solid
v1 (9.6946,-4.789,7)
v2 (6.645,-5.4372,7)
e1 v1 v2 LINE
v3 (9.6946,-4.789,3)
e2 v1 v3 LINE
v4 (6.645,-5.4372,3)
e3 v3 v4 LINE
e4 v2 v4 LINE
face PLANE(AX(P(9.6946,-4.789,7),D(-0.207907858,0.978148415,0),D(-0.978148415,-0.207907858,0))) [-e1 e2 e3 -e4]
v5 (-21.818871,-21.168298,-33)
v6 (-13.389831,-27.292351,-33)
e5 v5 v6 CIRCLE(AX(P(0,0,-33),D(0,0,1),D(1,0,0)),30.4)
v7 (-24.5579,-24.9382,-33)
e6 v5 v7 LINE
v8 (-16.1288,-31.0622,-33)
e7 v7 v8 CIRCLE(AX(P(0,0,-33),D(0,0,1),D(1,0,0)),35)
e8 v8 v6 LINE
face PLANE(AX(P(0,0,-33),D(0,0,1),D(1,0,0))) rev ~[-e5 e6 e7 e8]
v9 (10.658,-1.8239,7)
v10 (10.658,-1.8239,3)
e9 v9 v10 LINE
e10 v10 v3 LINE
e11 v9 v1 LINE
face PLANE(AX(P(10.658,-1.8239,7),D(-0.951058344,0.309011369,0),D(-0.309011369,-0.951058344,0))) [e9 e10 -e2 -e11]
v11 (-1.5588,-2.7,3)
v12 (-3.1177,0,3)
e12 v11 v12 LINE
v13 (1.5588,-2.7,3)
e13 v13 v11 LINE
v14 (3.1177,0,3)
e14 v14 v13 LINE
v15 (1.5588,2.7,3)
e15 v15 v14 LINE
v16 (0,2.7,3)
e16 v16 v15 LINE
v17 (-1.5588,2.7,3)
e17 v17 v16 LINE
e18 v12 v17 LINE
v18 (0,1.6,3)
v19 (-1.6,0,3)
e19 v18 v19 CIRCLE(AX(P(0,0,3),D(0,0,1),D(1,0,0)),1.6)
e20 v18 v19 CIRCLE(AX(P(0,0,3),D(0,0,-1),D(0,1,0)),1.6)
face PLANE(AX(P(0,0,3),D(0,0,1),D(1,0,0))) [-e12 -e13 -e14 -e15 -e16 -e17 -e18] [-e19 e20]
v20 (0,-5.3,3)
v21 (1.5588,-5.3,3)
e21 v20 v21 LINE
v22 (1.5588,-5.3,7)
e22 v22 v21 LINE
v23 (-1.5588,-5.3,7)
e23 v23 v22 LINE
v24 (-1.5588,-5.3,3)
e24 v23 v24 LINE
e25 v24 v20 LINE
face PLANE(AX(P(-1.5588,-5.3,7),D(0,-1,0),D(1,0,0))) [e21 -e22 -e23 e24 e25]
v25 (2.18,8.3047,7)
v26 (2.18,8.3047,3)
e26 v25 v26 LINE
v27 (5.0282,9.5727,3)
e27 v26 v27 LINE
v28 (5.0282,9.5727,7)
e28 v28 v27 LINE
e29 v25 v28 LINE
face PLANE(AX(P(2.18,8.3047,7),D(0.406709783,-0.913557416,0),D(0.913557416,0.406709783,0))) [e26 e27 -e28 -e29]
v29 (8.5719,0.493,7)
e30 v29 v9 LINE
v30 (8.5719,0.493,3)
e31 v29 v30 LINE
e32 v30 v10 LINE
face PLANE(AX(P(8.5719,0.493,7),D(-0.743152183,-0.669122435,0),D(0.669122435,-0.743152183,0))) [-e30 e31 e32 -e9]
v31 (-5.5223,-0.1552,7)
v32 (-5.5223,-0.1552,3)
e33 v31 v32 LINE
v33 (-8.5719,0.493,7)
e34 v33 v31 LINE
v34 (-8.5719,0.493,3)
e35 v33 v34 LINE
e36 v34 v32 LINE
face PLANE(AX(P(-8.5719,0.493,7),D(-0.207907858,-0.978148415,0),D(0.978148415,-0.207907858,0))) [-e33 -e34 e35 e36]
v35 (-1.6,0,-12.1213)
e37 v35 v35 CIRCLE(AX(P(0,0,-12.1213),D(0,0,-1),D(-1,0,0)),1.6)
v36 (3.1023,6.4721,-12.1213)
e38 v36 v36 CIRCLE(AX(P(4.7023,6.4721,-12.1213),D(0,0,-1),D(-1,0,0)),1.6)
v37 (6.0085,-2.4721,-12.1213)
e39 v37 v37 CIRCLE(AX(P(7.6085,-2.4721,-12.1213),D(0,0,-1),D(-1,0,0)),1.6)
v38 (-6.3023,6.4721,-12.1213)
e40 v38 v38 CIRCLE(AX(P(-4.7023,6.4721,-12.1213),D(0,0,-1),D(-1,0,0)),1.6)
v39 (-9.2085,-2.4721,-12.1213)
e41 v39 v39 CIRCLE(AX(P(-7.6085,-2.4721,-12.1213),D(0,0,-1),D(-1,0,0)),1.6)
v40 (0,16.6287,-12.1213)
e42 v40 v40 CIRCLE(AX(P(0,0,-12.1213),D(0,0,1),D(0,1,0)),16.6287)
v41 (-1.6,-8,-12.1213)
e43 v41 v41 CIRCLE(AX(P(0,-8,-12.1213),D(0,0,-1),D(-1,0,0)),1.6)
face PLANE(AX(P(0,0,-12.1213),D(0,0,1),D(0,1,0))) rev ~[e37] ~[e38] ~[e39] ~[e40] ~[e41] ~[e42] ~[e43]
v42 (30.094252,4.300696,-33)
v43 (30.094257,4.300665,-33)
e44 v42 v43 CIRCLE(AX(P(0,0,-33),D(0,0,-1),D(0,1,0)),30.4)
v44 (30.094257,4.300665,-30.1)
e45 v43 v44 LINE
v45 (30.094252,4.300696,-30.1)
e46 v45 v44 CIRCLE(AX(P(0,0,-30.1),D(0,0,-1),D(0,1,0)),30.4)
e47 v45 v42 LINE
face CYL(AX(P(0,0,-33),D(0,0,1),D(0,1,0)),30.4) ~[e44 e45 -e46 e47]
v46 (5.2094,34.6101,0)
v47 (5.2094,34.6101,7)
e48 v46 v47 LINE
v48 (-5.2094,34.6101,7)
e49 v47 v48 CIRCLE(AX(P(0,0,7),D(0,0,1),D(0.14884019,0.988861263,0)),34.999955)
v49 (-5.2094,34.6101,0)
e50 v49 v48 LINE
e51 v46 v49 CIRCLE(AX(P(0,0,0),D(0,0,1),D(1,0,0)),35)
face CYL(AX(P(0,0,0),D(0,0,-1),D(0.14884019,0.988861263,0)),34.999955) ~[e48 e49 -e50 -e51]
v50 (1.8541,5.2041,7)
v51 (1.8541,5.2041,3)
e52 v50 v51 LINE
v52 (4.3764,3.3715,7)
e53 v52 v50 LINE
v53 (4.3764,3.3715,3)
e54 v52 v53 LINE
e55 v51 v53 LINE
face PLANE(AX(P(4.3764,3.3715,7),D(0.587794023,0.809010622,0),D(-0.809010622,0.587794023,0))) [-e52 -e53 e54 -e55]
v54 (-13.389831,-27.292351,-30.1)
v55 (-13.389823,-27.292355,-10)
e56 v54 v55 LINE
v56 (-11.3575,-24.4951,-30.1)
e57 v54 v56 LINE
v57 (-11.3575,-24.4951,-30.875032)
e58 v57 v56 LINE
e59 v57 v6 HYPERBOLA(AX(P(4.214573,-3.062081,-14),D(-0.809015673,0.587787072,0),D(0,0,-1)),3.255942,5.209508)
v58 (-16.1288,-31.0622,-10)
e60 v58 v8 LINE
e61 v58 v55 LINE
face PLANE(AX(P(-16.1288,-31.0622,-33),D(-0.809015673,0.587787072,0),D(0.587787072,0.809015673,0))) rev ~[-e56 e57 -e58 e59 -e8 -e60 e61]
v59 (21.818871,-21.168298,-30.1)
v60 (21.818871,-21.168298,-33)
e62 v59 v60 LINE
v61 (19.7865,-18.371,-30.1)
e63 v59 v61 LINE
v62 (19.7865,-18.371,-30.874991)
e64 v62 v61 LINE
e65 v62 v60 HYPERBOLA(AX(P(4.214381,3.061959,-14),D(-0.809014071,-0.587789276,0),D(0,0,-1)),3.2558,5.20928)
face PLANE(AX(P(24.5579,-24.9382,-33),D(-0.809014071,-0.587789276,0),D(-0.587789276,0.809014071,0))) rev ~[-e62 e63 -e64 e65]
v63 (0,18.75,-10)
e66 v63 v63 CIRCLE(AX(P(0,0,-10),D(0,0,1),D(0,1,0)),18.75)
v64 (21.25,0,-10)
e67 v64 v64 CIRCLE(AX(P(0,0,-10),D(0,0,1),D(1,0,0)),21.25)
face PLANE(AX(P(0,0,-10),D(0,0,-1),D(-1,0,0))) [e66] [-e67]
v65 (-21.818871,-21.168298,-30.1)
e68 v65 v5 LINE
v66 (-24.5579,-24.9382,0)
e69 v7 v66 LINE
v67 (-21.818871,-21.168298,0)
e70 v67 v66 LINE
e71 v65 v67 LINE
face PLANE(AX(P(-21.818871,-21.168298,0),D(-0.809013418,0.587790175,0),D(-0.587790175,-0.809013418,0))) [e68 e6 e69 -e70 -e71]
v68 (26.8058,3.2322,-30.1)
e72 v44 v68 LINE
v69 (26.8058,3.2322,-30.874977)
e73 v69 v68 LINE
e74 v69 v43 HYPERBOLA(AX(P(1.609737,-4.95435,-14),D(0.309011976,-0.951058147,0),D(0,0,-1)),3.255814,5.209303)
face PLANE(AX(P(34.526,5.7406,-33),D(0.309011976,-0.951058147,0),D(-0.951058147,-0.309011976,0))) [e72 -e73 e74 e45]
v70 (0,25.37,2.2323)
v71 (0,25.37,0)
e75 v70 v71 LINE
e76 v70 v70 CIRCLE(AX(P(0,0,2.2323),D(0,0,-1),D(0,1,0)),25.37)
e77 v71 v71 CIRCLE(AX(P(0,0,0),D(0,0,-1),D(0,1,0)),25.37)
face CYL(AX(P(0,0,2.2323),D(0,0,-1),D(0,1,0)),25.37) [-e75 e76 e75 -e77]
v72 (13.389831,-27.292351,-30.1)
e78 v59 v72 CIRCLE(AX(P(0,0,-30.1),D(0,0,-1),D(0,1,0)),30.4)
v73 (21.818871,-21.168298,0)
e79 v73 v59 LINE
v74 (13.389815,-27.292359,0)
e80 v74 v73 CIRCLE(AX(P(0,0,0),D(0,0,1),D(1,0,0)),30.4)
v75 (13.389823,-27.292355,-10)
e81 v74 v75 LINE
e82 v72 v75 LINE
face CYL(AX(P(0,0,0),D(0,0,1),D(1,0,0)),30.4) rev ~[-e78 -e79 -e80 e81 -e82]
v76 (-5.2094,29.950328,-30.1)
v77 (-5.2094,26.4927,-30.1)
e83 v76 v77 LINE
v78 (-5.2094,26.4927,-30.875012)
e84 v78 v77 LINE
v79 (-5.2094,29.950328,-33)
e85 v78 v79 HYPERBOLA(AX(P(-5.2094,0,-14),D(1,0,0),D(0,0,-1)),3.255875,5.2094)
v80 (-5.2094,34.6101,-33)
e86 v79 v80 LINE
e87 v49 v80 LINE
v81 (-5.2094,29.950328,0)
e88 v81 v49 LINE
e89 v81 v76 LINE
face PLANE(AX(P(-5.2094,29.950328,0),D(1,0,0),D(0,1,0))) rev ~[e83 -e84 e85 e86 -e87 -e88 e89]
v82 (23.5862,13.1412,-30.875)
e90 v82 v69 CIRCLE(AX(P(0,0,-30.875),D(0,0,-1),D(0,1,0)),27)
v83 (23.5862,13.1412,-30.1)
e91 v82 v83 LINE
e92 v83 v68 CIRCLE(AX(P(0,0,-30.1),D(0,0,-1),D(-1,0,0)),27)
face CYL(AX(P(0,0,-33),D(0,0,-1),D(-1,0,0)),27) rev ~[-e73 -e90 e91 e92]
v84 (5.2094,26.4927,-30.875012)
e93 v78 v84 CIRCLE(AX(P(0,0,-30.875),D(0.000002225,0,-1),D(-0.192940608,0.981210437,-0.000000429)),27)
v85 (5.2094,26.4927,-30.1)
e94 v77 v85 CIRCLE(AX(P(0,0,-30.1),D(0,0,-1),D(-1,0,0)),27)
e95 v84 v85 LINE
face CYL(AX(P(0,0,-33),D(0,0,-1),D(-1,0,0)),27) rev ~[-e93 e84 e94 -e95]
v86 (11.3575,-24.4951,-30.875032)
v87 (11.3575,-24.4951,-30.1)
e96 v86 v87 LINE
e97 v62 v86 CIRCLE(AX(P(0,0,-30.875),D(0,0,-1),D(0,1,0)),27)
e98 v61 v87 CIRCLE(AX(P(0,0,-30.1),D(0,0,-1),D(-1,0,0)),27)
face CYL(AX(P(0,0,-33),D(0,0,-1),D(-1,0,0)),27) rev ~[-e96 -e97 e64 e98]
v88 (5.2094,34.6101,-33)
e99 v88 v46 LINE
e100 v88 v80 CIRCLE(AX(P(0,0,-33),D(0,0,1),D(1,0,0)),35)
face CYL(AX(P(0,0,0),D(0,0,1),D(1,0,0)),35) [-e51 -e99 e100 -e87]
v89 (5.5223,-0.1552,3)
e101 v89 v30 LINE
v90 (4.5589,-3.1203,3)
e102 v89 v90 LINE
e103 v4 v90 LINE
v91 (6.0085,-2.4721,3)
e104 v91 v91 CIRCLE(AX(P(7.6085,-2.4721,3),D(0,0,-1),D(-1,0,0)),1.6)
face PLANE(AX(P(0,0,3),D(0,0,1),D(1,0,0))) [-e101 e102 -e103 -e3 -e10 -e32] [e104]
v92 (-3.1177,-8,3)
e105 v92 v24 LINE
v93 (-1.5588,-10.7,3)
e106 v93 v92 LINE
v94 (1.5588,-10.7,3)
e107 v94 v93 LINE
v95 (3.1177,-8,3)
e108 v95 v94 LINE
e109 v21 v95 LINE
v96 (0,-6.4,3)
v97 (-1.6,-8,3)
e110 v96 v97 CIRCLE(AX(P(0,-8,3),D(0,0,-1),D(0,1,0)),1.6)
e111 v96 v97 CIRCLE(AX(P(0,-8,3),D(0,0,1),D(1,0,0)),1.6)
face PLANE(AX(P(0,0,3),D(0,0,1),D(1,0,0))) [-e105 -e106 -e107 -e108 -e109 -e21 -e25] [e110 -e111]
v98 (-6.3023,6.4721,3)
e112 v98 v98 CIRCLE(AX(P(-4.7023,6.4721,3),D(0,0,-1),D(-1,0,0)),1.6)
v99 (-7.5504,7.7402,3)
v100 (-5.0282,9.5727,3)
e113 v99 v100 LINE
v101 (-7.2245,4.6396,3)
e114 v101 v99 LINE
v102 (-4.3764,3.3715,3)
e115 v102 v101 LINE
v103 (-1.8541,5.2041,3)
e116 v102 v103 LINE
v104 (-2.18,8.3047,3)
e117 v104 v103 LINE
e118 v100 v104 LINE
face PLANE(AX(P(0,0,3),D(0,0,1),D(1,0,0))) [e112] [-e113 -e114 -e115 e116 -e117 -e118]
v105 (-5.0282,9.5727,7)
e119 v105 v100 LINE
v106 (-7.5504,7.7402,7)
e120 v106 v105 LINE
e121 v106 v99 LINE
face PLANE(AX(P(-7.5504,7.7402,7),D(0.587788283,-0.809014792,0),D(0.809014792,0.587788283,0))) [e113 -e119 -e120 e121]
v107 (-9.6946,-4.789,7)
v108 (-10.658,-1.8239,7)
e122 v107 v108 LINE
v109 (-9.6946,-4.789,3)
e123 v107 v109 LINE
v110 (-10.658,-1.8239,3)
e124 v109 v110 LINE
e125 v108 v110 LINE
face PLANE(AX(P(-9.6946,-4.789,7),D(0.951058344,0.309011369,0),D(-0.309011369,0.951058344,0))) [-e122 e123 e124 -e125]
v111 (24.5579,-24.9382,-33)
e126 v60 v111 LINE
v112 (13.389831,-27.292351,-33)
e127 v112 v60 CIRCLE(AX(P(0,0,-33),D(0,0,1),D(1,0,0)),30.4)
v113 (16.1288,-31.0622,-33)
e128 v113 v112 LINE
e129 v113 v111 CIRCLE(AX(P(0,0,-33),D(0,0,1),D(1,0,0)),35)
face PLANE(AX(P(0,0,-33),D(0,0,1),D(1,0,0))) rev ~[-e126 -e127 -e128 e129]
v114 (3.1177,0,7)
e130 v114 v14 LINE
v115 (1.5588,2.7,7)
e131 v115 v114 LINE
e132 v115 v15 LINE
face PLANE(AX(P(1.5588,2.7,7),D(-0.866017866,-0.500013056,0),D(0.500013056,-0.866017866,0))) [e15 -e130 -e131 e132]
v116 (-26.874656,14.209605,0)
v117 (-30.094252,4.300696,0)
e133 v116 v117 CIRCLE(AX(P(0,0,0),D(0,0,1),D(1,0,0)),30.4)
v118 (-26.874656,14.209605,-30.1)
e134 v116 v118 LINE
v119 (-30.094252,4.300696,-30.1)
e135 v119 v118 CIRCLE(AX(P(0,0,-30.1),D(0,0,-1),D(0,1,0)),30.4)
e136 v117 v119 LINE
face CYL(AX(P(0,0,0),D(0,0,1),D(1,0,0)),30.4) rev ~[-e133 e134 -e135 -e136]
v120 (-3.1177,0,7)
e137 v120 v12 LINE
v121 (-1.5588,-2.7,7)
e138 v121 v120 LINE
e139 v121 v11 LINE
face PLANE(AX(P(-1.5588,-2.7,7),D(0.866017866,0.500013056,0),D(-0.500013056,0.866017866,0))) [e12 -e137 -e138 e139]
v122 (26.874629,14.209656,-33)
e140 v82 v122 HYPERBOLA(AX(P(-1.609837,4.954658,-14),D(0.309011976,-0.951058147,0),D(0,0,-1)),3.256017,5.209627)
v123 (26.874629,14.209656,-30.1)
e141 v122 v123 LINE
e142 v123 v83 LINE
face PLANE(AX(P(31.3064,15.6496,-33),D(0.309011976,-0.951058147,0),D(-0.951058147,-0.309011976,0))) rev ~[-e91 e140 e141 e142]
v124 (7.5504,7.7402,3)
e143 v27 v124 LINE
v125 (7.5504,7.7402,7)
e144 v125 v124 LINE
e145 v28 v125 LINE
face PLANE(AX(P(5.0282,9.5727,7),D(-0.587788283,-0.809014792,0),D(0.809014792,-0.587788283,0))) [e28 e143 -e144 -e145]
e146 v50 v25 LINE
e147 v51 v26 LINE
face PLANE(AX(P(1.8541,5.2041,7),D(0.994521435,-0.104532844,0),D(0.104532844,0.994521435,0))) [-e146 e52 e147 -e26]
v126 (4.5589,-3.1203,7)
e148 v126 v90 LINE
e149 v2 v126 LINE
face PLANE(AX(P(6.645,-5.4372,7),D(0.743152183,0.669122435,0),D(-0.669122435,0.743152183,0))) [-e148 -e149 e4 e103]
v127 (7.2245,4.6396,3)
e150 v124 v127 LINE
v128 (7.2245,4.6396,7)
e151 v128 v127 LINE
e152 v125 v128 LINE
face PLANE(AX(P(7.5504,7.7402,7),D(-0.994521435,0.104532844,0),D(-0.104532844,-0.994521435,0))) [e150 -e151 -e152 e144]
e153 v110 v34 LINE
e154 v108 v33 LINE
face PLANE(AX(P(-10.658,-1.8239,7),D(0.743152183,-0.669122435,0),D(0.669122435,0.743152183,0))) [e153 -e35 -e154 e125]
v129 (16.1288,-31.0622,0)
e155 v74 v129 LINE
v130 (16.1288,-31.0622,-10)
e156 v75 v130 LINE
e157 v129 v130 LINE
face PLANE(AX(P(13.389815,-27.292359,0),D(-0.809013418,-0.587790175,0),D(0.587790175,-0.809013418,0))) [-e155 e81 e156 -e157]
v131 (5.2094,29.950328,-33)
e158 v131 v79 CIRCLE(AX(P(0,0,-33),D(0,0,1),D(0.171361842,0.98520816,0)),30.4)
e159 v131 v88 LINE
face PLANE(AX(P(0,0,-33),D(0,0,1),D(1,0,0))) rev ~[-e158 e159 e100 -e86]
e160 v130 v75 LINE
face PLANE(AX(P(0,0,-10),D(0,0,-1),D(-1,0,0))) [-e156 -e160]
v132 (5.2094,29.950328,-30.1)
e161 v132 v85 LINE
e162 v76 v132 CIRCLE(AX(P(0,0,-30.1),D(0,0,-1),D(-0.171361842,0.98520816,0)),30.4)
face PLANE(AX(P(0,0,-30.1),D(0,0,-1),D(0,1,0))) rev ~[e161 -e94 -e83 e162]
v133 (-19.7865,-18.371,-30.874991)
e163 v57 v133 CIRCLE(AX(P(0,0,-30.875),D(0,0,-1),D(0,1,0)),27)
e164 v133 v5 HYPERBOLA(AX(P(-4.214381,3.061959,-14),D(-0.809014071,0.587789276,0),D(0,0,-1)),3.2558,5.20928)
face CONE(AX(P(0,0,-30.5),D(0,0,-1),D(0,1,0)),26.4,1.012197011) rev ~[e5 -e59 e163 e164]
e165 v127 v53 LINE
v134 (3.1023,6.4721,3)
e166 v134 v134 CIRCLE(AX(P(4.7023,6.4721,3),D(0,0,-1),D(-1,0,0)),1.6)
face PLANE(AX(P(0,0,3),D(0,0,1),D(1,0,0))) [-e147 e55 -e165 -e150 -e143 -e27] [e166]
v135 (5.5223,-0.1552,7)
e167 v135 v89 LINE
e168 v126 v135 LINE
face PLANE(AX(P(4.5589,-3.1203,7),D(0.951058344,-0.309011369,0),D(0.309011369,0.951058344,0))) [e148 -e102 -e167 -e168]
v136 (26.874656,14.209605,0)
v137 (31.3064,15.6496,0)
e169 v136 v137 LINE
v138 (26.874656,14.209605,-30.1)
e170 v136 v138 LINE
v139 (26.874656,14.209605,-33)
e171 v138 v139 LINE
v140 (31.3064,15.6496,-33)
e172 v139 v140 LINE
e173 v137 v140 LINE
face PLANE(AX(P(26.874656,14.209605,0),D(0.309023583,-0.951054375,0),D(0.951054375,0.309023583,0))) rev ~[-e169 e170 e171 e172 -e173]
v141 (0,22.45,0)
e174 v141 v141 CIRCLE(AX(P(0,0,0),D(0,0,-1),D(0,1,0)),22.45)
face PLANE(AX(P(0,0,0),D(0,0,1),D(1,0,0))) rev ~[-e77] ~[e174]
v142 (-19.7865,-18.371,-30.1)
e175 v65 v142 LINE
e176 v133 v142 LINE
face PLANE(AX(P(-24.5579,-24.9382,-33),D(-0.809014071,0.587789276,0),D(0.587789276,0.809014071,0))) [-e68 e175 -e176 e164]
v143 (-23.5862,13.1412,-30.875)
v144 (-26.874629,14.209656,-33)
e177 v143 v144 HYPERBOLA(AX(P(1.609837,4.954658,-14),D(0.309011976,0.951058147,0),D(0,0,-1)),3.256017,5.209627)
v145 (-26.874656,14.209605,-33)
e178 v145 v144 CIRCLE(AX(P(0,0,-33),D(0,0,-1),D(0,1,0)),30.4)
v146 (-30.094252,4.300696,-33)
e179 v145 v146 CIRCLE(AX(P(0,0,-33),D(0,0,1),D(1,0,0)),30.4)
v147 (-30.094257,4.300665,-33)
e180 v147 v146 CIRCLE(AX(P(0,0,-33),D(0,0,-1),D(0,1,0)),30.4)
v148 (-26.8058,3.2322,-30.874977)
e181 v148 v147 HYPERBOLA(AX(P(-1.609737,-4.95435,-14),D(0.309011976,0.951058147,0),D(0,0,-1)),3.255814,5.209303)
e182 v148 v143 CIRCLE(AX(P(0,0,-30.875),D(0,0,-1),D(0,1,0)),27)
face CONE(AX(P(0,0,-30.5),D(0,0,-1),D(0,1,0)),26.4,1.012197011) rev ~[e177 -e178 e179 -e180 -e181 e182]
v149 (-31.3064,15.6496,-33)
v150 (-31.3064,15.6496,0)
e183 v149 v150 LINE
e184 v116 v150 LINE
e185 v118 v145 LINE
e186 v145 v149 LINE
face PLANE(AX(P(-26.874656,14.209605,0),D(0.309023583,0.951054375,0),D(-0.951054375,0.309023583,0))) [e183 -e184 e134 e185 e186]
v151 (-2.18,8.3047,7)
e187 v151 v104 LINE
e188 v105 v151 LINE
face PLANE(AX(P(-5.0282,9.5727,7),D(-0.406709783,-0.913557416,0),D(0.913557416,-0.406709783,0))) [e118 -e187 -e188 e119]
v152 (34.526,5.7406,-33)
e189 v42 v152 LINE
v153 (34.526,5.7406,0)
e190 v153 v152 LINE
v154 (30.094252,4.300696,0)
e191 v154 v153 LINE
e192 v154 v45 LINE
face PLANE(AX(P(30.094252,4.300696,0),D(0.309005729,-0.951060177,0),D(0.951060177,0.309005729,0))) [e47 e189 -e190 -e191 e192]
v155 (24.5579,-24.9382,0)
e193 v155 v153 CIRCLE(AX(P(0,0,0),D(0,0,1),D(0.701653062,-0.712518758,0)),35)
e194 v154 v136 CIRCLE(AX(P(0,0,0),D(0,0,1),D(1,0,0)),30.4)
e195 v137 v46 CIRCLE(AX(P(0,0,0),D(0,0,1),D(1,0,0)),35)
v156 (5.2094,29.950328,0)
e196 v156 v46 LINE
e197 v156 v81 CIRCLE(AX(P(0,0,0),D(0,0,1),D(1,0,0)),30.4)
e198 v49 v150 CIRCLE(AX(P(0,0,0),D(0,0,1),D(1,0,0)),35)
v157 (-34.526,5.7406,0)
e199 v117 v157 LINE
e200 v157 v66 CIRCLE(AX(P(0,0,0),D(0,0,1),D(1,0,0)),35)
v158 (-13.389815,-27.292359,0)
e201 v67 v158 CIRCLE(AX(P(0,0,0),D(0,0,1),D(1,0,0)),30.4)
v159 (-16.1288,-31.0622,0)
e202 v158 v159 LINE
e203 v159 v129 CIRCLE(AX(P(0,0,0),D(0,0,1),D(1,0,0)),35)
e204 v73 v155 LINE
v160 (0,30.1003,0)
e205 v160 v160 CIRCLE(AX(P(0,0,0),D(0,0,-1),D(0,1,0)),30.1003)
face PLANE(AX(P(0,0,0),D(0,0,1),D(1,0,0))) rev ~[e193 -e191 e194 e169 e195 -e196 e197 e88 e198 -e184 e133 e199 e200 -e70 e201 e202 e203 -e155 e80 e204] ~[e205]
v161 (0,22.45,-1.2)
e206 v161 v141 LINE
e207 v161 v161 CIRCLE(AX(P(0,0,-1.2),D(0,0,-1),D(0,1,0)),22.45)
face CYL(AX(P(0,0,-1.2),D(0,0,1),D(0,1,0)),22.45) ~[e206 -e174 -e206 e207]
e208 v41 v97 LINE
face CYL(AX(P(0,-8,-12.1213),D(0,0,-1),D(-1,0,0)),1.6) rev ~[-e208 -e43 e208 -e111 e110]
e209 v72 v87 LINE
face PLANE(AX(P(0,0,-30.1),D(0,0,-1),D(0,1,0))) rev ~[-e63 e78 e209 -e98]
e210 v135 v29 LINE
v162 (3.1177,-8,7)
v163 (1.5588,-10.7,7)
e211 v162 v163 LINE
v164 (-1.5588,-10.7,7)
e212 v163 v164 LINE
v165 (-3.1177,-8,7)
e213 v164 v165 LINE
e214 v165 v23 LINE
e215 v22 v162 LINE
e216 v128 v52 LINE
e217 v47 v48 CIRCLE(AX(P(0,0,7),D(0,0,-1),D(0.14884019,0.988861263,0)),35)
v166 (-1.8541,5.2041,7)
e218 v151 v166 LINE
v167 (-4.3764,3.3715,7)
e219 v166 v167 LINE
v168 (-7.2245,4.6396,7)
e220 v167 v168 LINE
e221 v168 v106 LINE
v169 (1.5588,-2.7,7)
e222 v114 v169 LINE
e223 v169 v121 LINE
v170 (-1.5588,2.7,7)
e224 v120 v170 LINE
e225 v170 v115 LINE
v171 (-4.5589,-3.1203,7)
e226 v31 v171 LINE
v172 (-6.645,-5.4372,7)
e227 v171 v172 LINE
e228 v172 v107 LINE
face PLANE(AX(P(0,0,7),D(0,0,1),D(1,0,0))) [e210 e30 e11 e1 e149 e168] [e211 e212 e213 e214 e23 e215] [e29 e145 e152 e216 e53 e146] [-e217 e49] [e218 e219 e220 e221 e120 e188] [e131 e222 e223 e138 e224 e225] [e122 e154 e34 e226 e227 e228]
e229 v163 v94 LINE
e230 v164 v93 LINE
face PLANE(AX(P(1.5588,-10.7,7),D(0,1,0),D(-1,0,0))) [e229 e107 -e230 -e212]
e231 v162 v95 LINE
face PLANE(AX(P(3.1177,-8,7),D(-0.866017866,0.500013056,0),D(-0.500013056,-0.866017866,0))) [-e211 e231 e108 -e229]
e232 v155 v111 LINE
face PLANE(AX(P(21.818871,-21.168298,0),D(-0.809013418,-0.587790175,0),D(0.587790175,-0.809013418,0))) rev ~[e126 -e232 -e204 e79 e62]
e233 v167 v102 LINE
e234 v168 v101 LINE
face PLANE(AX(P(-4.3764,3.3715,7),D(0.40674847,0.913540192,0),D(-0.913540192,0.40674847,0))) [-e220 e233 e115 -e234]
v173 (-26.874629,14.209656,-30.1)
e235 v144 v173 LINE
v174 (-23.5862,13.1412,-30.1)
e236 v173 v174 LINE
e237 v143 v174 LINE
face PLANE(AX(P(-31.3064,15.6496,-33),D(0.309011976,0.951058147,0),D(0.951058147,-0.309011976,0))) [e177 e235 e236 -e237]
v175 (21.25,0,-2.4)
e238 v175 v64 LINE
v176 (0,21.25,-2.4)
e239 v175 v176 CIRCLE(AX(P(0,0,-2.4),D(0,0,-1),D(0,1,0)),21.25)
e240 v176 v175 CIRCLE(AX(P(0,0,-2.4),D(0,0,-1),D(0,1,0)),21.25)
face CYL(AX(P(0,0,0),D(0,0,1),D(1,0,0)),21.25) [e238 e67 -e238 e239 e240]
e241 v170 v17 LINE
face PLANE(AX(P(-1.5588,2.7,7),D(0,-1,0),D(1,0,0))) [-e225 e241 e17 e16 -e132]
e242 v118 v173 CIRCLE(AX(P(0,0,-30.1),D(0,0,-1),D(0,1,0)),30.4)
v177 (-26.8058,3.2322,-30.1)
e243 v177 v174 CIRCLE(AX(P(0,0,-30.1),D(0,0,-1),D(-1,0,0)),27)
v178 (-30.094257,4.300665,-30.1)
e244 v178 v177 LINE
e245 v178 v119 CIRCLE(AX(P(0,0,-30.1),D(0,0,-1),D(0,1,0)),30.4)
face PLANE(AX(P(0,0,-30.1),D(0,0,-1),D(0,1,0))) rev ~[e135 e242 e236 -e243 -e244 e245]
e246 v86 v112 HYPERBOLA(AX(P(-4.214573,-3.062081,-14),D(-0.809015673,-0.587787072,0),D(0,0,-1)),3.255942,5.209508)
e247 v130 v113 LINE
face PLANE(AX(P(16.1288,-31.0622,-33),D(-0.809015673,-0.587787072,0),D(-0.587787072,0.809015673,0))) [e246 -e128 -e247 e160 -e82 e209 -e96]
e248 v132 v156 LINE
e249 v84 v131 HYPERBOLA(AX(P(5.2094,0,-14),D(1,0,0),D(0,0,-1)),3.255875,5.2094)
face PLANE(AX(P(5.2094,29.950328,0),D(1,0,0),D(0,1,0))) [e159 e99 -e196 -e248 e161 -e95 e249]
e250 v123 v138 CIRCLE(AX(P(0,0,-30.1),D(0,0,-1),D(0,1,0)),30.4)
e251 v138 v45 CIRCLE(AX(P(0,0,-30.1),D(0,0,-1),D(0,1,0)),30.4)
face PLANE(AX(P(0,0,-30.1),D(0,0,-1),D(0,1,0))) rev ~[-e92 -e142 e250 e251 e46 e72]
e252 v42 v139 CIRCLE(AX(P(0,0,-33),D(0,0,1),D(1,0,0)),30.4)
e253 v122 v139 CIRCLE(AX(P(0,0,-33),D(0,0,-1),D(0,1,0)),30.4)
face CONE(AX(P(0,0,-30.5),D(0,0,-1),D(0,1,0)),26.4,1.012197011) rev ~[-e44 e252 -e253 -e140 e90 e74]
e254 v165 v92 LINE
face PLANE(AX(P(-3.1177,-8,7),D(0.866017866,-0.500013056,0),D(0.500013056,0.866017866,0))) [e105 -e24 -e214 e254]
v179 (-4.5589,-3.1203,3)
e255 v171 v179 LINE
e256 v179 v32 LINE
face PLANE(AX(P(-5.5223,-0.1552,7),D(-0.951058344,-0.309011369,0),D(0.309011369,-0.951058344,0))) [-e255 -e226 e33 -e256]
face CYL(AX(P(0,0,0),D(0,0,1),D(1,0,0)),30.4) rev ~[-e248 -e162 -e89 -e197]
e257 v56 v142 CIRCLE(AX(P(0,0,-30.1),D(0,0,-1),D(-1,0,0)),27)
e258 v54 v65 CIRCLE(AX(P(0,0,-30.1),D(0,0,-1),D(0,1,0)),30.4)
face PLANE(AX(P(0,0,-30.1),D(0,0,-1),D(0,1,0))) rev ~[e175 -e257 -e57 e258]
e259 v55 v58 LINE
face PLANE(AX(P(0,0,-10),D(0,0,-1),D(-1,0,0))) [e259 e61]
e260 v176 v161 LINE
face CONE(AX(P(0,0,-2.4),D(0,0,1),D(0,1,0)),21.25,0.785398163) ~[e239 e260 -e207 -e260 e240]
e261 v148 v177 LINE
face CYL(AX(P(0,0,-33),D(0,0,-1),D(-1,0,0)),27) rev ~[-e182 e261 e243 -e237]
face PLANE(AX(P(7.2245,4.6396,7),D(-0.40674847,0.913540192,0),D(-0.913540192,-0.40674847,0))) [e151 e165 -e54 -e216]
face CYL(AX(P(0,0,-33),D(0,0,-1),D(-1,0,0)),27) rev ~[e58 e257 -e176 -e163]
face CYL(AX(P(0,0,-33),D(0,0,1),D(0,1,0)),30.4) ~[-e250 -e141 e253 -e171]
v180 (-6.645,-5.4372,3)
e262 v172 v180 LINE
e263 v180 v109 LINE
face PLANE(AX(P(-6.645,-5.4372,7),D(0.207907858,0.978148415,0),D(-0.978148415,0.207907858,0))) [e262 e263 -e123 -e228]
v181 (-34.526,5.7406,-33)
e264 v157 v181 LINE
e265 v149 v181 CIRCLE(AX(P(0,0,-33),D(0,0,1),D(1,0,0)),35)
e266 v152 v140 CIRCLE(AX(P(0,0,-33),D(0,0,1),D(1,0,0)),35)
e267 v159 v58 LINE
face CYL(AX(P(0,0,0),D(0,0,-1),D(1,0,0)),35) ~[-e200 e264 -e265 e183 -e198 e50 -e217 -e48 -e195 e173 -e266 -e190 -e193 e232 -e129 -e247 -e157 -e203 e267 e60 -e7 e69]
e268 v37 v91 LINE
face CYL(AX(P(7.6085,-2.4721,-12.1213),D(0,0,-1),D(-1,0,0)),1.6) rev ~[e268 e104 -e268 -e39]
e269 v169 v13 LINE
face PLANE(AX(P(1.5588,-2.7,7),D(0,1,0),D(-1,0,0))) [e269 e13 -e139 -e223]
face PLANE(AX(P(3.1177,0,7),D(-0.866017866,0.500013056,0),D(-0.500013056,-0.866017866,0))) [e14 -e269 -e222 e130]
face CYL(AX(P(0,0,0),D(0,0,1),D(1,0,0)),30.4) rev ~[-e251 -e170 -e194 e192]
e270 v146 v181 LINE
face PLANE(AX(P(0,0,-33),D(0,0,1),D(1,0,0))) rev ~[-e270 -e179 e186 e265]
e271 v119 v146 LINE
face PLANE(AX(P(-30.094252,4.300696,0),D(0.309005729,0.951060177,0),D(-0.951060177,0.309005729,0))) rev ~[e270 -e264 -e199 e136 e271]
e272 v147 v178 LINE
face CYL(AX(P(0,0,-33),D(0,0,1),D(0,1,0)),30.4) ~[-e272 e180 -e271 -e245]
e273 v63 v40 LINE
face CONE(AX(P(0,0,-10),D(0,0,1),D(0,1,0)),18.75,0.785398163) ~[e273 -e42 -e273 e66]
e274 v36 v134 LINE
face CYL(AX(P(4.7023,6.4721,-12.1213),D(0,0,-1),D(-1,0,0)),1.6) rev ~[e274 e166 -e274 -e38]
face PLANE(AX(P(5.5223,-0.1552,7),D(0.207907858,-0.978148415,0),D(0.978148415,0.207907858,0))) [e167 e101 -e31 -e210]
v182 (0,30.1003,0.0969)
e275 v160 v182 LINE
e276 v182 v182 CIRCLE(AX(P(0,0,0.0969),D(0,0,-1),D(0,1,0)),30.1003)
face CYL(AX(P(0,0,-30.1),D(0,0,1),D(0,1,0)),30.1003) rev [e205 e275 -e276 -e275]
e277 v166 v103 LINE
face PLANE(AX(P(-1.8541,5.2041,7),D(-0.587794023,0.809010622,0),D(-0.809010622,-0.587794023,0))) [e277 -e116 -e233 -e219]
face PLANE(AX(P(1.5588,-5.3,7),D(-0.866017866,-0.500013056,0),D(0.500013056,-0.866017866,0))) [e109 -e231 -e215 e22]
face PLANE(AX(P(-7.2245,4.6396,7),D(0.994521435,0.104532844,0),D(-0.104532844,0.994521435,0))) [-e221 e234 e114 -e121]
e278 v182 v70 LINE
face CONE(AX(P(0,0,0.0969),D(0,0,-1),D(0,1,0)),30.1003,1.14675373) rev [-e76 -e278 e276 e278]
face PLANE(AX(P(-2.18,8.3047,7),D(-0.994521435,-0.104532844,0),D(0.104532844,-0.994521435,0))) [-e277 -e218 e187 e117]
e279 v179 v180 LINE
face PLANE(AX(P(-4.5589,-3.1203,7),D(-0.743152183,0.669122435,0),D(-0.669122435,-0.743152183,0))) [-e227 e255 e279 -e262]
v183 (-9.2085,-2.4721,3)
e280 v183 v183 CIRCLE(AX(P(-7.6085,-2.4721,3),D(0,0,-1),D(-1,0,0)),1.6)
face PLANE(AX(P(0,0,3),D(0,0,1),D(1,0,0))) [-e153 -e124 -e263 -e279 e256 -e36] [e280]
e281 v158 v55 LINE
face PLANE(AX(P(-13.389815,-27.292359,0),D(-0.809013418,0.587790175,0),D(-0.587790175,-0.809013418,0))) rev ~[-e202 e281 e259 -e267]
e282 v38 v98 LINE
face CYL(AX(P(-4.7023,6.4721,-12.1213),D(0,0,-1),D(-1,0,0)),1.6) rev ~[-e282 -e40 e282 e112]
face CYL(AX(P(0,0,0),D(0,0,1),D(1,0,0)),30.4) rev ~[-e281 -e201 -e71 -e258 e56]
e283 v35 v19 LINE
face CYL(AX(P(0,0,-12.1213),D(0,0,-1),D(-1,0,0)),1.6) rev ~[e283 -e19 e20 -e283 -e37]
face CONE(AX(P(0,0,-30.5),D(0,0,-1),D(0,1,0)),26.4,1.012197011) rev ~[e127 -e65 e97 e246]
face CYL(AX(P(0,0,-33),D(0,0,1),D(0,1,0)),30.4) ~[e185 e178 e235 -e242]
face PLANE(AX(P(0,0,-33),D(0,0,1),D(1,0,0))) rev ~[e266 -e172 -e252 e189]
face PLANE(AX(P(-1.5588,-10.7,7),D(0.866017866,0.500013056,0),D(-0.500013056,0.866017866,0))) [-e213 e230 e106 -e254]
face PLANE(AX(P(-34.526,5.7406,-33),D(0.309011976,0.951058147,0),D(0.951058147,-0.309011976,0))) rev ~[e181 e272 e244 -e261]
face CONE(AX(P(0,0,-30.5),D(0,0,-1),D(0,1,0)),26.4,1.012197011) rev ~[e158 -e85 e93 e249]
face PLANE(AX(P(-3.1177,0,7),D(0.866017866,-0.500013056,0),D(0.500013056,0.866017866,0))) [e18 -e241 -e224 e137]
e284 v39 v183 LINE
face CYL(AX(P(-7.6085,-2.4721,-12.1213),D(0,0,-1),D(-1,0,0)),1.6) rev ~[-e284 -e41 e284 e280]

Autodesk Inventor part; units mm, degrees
ref_plane "YZ Plane" through (0, 0, 0) normal (1, 0, 0) x (0, 1, 0)
ref_plane "XZ Plane" through (0, 0, 0) normal (0, 1, 0) x (-1, 0, 0)
ref_plane "XY Plane" through (0, 0, 0) normal (0, 0, 1) x (1, 0, 0)
sketch "Эскиз1" plane through (0, 0, 0) normal (0, 0, 1) x (1, 0, 0)
  circle A0 centre (0, 0) radius 21.25 projected
  circle A1 centre (0, 0) radius 30 projected
  circle A2 centre (0, 0) radius 21.25
  circle A3 centre (0, 0) radius 30
  circle A4 centre (0, 0) radius 35
  line L0 (0, 0) -> (6.0777, 34.4683)
  line L1 (0, 0) -> (35, 0) construction
  line L2 (0, 0) -> (-6.0777, 34.4683)
  line L3 (0, 0) -> (35, 0) construction
  line L4 (-5.2094, 29.5442) -> (-5.2094, 34.6101)
  line L5 (5.2094, 29.5442) -> (5.2094, 34.6101)
  line L6 (-26.4884, 14.0841) -> (-31.3064, 15.6496)
  line L7 (-29.708, 4.1752) -> (-34.526, 5.7406)
  line L8 (-21.5802, -20.8398) -> (-24.5579, -24.9382)
  line L9 (-13.1511, -26.9638) -> (-16.1288, -31.0622)
  line L10 (13.1511, -26.9638) -> (16.1288, -31.0622)
  line L11 (21.5802, -20.8398) -> (24.5579, -24.9382)
  line L12 (29.708, 4.1752) -> (34.526, 5.7406)
  line L13 (26.4884, 14.0841) -> (31.3064, 15.6496)
  circle A5 centre (0, 0) radius 30.4
  point P0 (0, 0)
  point P1 (5.2094, 29.5442)
  point P2 (-5.2094, 29.5442)
  point P3 (-5.2094, 29.9503)
  point P4 (5.2094, 29.9503)
  point P5 (26.8746, 14.2096)
  point P6 (30.0943, 4.3007)
  point P7 (-30.0943, 4.3007)
  point P8 (-26.8746, 14.2096)
  point P9 (-13.3898, -27.2924)
  point P10 (-21.8189, -21.1683)
  point P11 (21.8189, -21.1683)
  point P12 (13.3898, -27.2924)
  dimension "d0" = 70
  dimension "d1" = 80
  dimension "d2" = 100
  dimension "d5" = 360
  dimension "d19" = 0.4
extrude "Выдавливание1" add sketch "Эскиз1" against normal blind 33 contours A0 L2 L0 | L0 L2 A0 | A5 L4 A4 L5 | L13 A4 L12 A5 | A5 L7 A4 L6 | A5 L9 A4 L8 | L11 A4 L10 A5
sketch "Эскиз2" plane through (0, 0, 0) normal (1, 0, 0) x (0, 1, 0)
  line L0 (30, -23) -> (30, 0) projected
  line L1 (-30, -19.93) -> (30, -19.93) projected
  line L2 (0, 0) -> (0, -33)
  line L3 (-21.25, -33) -> (21.25, -33) projected
  line L4 (22.45, -18.73) -> (21.25, -17.53)
  line L5 (22.45, -19.93) -> (22.45, -18.73)
  line L6 (21.25, 0) -> (21.25, -33) projected
  line L7 (-30, -19.93) -> (30, -19.93) projected
  line L8 (21.25, -2.4) -> (22.45, -1.2)
  line L9 (22.45, -1.2) -> (22.45, 0)
  line L10 (30, 0) -> (-30, 0) projected
  line L11 (30.4, -33) -> (30.4, 0) projected
  line L12 (30.4, -33) -> (30.4, 0) projected
  line L13 (30.4, -33) -> (30.4, 0) projected
  line L14 (-30, -29.93) -> (30, -29.93) projected
  line L15 (20.7199, -30.23) -> (27.0363, -30.23) projected
  line L16 (30.4, -33) -> (30.4, 0) projected
  line L17 (30.4, -33) -> (30.4, -30.1)
  line L18 (30.4, -33) -> (30.4, 0) projected
  line L19 (30.4, -30.1) -> (26.4, -30.1)
  line L20 (26.4, -30.1) -> (26.4, -30.5)
  line L21 (26.4, -30.1) -> (26.8, -30.1) construction
  line L22 (26.4, -30.5) -> (30.4, -33)
  point P0 (21.25, -19.93)
  dimension "d25" = 2.9
  dimension "d26" = 4
  dimension "d27" = 0.4
  dimension "d28" = 90
revolve "Вращение1" add sketch "Эскиз2" angle 360 about axis through (0, 0, 0) along (0, 0, -1) contours L20 L19 L11 L22 | L1 L6 L4 L5 | L9 L8 L6 L10
sketch "Эскиз3" plane through (0, 0, -33) normal (0, 0, -1) x (-1, 0, 0)
  arc A0 (5.2094, 34.6101) -> (-5.2094, 34.6101) centre (0, 0) ccw projected
  line L0 (-5.2094, 34.6101) -> (-5.2094, 26.4927)
  line L1 (5.2094, 34.6101) -> (5.2094, 26.4927)
  circle A1 centre (0, 0) radius 35
  line L2 (-31.3064, 15.6496) -> (-23.5862, 13.1412)
  line L3 (-34.526, 5.7406) -> (-26.8058, 3.2322)
  line L4 (-24.5579, -24.9382) -> (-19.7865, -18.371)
  line L5 (-16.1288, -31.0622) -> (-11.3575, -24.4951)
  line L6 (16.1288, -31.0622) -> (11.3575, -24.4951)
  line L7 (24.5579, -24.9382) -> (19.7865, -18.371)
  line L8 (34.526, 5.7406) -> (26.8058, 3.2322)
  line L9 (31.3064, 15.6496) -> (23.5862, 13.1412)
  circle A2 centre (0, 0) radius 27
  point P0 (0, 0)
  point P1 (5.2094, 34.6101)
  point P2 (5.2094, 34.6101)
  dimension "d13" = 360
extrude "Выдавливание2" cut sketch "Эскиз3" against normal blind 23 contours A1 L9 A2 L1 | L0 A2 L2 A1 | A2 | A1 L7 A2 L8 | L3 A2 L4 A1 | L5 A2 L6 A1
sketch "Эскиз4" plane through (0, 0, 0) normal (0, 0, 1) x (1, 0, 0)
  arc A0 (5.2094, 34.6101) -> (-5.2094, 34.6101) centre (0, 0) ccw projected
  circle A1 centre (0, 0) radius 35
  point P0 (0, 0)
  point P1 (5.2094, 34.6101)
extrude "Выдавливание3" add sketch "Эскиз4" along normal blind 7
sketch "Эскиз5" plane through (0, 0, 0) normal (1, 0, 0) x (0, 1, 0)
  line L0 (-21.25, -10) -> (21.25, -10) projected
  line L1 (21.25, -10) -> (-21.25, -10) projected
  line L2 (21.25, -10) -> (18.75, -10)
  line L3 (18.75, -10) -> (16.6287, -12.1213)
  line L4 (16.6287, -12.1213) -> (0, -12.1213)
  line L5 (14.2096, 0) -> (14.2096, -30.1) projected
  line L6 (0, -12.1213) -> (0, -10)
  point P0 (0, 0)
  dimension "d29" = 2.5
  dimension "d30" = 3
  dimension "d31" = 135
revolve "Вращение2" add sketch "Эскиз5" angle 360 about axis through (0, 0, -12.1213) along (0, 0, 1)
sketch "Эскиз6" plane through (0, 0, 0) normal (1, 0, 0) x (0, 1, 0)
  line L0 (25.52, -29.93) -> (25.52, 0)
  line L1 (25.52, 0) -> (25.52, 2)
  line L2 (30.4, -30.1) -> (30.4, 0) projected
  line L3 (29.9503, 0) -> (29.9503, -30.1) projected
  line L4 (25.52, 2) -> (29.9503, 0)
  line L5 (30.1003, -30.1) -> (30.1003, 0.0969)
  line L6 (30.1003, 0.0969) -> (25.37, 2.2323)
  line L7 (25.37, 2.2323) -> (25.37, 0)
  line L8 (25.37, 0) -> (25.37, -29.93)
  line L9 (35, 7) -> (-35, 7) projected
  line L10 (0, 7) -> (0, 0)
  line L11 (25.37, 0) -> (30.3149, 0)
  line L12 (34.6101, 0) -> (15.6496, 0) projected
  point P0 (30.1003, 0)
  dimension "d33" = 0.15
revolve "Вращение3" cut sketch "Эскиз6" angle 360 about axis through (0, 0, 7) along (0, 0, -1)
sketch "Эскиз7" plane through (0, 0, -12.1213) normal (0, 0, -1) x (-1, 0, 0)
  line L0 (15.0382, 14.3621) -> (21.6953, 20.7199) projected
  arc A0 (21.6953, 20.7199) -> (13.0016, 27.0363) centre (0, 0) ccw projected
  line L1 (13.0016, 27.0363) -> (9.0121, 18.7403) projected
  arc A1 (-9.0121, 18.7403) -> (9.0121, 18.7403) centre (0, 23.0741) ccw projected
  line L2 (-9.0121, 18.7403) -> (-13.0016, 27.0363) projected
  arc A2 (-13.0016, 27.0363) -> (-21.6953, 20.7199) centre (0, 0) ccw projected
  line L3 (-21.6953, 20.7199) -> (-15.0382, 14.3621) projected
  arc A3 (-20.608, -2.7799) -> (-15.0382, 14.3621) centre (-21.9448, 7.1303) ccw projected
  line L4 (-20.608, -2.7799) -> (-29.7307, -4.0106) projected
  arc A4 (-29.7307, -4.0106) -> (-26.41, -14.2307) centre (0, 0) ccw projected
  line L5 (-26.41, -14.2307) -> (-18.3062, -9.864) projected
  arc A5 (-3.7243, -20.4584) -> (-18.3062, -9.864) centre (-13.5626, -18.6674) ccw projected
  line L6 (-3.7243, -20.4584) -> (-5.373, -29.5149) projected
  arc A6 (-5.373, -29.5149) -> (5.373, -29.5149) centre (0, 0) ccw projected
  line L7 (5.373, -29.5149) -> (3.7243, -20.4584) projected
  arc A7 (18.3062, -9.864) -> (3.7243, -20.4584) centre (13.5626, -18.6674) ccw projected
  line L8 (18.3062, -9.864) -> (26.41, -14.2307) projected
  arc A8 (26.41, -14.2307) -> (29.7307, -4.0106) centre (0, 0) ccw projected
  line L9 (29.7307, -4.0106) -> (20.608, -2.7799) projected
  arc A9 (15.0382, 14.3621) -> (20.608, -2.7799) centre (21.9448, 7.1303) ccw projected
  circle A10 centre (-4.7023, 6.4721) radius 1.6 projected
  circle A11 centre (0, 0) radius 1.6 projected
  circle A12 centre (0, -8) radius 1.6 projected
  circle A13 centre (4.7023, 6.4721) radius 1.6 projected
  circle A14 centre (7.6085, -2.4721) radius 1.6 projected
  circle A15 centre (-7.6085, -2.4721) radius 1.6 projected
  line L10 (15.0382, 14.3621) -> (21.6953, 20.7199) projected
  arc A16 (21.6953, 20.7199) -> (13.0016, 27.0363) centre (0, 0) ccw projected
  line L11 (13.0016, 27.0363) -> (9.0121, 18.7403) projected
  arc A17 (-9.0121, 18.7403) -> (9.0121, 18.7403) centre (0, 23.0741) ccw projected
  line L12 (-9.0121, 18.7403) -> (-13.0016, 27.0363) projected
  arc A18 (-13.0016, 27.0363) -> (-21.6953, 20.7199) centre (0, 0) ccw projected
  line L13 (-21.6953, 20.7199) -> (-15.0382, 14.3621) projected
  arc A19 (-20.608, -2.7799) -> (-15.0382, 14.3621) centre (-21.9448, 7.1303) ccw projected
  line L14 (-20.608, -2.7799) -> (-29.7307, -4.0106) projected
  arc A20 (-29.7307, -4.0106) -> (-26.41, -14.2307) centre (0, 0) ccw projected
  line L15 (-26.41, -14.2307) -> (-18.3062, -9.864) projected
  arc A21 (-3.7243, -20.4584) -> (-18.3062, -9.864) centre (-13.5626, -18.6674) ccw projected
  line L16 (-3.7243, -20.4584) -> (-5.373, -29.5149) projected
  arc A22 (-5.373, -29.5149) -> (5.373, -29.5149) centre (0, 0) ccw projected
  line L17 (5.373, -29.5149) -> (3.7243, -20.4584) projected
  arc A23 (18.3062, -9.864) -> (3.7243, -20.4584) centre (13.5626, -18.6674) ccw projected
  line L18 (18.3062, -9.864) -> (26.41, -14.2307) projected
  arc A24 (26.41, -14.2307) -> (29.7307, -4.0106) centre (0, 0) ccw projected
  line L19 (29.7307, -4.0106) -> (20.608, -2.7799) projected
  arc A25 (15.0382, 14.3621) -> (20.608, -2.7799) centre (21.9448, 7.1303) ccw projected
  point P0 (0, 0)
extrude "Выдавливание4" cut sketch "Эскиз7" against normal up to surface (19.1213 mm away) contours A10 | A11 | A12 | A13 | A14 | A15
sketch "Эскиз8" plane through (0, 0, 7) normal (0, 0, 1) x (1, 0, 0)
  circle A0 centre (0, 0) radius 1.6 projected
  line L0 (0, 0) -> (0, 2.7)
  circle A1 centre (0, -8) radius 1.6 projected
  line L1 (0, -8) -> (0, -5.3)
  line L2 (1.5588, -5.3) -> (3.1177, -8)
  line L3 (3.1177, -8) -> (1.5588, -10.7)
  line L4 (1.5588, -10.7) -> (-1.5588, -10.7)
  line L5 (-1.5588, -10.7) -> (-3.1177, -8)
  line L6 (-3.1177, -8) -> (-1.5588, -5.3)
  line L7 (-1.5588, -5.3) -> (1.5588, -5.3)
  line L8 (1.5588, 2.7) -> (3.1177, 0)
  line L9 (3.1177, 0) -> (1.5588, -2.7)
  line L10 (1.5588, -2.7) -> (-1.5588, -2.7)
  line L11 (-1.5588, -2.7) -> (-3.1177, 0)
  line L12 (-3.1177, 0) -> (-1.5588, 2.7)
  line L13 (-1.5588, 2.7) -> (1.5588, 2.7)
  line L14 (4.5589, -3.1203) -> (5.5223, -0.1552)
  line L15 (7.6085, -2.4721) -> (5.0406, -1.6378)
  line L16 (6.645, -5.4372) -> (4.5589, -3.1203)
  line L17 (9.6946, -4.789) -> (6.645, -5.4372)
  line L18 (10.658, -1.8239) -> (9.6946, -4.789)
  line L19 (8.5719, 0.493) -> (10.658, -1.8239)
  line L20 (5.5223, -0.1552) -> (8.5719, 0.493)
  line L21 (4.3764, 3.3715) -> (1.8541, 5.2041)
  line L22 (4.7023, 6.4721) -> (3.1153, 4.2878)
  line L23 (7.2245, 4.6396) -> (4.3764, 3.3715)
  line L24 (7.5504, 7.7402) -> (7.2245, 4.6396)
  line L25 (5.0282, 9.5727) -> (7.5504, 7.7402)
  line L26 (2.18, 8.3047) -> (5.0282, 9.5727)
  line L27 (1.8541, 5.2041) -> (2.18, 8.3047)
  line L28 (-1.8541, 5.2041) -> (-4.3764, 3.3715)
  line L29 (-4.7023, 6.4721) -> (-3.1153, 4.2878)
  line L30 (-2.18, 8.3047) -> (-1.8541, 5.2041)
  line L31 (-5.0282, 9.5727) -> (-2.18, 8.3047)
  line L32 (-7.5504, 7.7402) -> (-5.0282, 9.5727)
  line L33 (-7.2245, 4.6396) -> (-7.5504, 7.7402)
  line L34 (-4.3764, 3.3715) -> (-7.2245, 4.6396)
  line L35 (-5.5223, -0.1552) -> (-4.5589, -3.1203)
  line L36 (-7.6085, -2.4721) -> (-5.0406, -1.6378)
  line L37 (-8.5719, 0.493) -> (-5.5223, -0.1552)
  line L38 (-10.658, -1.8239) -> (-8.5719, 0.493)
  line L39 (-9.6946, -4.789) -> (-10.658, -1.8239)
  line L40 (-6.645, -5.4372) -> (-9.6946, -4.789)
  line L41 (-4.5589, -3.1203) -> (-6.645, -5.4372)
  point P0 (0, 0)
  dimension "d40" = 2.7
  dimension "d41" = 2.7
  dimension "d44" = 360
extrude "Выдавливание5" cut sketch "Эскиз8" against normal blind 4
properties part number "tire disk"
